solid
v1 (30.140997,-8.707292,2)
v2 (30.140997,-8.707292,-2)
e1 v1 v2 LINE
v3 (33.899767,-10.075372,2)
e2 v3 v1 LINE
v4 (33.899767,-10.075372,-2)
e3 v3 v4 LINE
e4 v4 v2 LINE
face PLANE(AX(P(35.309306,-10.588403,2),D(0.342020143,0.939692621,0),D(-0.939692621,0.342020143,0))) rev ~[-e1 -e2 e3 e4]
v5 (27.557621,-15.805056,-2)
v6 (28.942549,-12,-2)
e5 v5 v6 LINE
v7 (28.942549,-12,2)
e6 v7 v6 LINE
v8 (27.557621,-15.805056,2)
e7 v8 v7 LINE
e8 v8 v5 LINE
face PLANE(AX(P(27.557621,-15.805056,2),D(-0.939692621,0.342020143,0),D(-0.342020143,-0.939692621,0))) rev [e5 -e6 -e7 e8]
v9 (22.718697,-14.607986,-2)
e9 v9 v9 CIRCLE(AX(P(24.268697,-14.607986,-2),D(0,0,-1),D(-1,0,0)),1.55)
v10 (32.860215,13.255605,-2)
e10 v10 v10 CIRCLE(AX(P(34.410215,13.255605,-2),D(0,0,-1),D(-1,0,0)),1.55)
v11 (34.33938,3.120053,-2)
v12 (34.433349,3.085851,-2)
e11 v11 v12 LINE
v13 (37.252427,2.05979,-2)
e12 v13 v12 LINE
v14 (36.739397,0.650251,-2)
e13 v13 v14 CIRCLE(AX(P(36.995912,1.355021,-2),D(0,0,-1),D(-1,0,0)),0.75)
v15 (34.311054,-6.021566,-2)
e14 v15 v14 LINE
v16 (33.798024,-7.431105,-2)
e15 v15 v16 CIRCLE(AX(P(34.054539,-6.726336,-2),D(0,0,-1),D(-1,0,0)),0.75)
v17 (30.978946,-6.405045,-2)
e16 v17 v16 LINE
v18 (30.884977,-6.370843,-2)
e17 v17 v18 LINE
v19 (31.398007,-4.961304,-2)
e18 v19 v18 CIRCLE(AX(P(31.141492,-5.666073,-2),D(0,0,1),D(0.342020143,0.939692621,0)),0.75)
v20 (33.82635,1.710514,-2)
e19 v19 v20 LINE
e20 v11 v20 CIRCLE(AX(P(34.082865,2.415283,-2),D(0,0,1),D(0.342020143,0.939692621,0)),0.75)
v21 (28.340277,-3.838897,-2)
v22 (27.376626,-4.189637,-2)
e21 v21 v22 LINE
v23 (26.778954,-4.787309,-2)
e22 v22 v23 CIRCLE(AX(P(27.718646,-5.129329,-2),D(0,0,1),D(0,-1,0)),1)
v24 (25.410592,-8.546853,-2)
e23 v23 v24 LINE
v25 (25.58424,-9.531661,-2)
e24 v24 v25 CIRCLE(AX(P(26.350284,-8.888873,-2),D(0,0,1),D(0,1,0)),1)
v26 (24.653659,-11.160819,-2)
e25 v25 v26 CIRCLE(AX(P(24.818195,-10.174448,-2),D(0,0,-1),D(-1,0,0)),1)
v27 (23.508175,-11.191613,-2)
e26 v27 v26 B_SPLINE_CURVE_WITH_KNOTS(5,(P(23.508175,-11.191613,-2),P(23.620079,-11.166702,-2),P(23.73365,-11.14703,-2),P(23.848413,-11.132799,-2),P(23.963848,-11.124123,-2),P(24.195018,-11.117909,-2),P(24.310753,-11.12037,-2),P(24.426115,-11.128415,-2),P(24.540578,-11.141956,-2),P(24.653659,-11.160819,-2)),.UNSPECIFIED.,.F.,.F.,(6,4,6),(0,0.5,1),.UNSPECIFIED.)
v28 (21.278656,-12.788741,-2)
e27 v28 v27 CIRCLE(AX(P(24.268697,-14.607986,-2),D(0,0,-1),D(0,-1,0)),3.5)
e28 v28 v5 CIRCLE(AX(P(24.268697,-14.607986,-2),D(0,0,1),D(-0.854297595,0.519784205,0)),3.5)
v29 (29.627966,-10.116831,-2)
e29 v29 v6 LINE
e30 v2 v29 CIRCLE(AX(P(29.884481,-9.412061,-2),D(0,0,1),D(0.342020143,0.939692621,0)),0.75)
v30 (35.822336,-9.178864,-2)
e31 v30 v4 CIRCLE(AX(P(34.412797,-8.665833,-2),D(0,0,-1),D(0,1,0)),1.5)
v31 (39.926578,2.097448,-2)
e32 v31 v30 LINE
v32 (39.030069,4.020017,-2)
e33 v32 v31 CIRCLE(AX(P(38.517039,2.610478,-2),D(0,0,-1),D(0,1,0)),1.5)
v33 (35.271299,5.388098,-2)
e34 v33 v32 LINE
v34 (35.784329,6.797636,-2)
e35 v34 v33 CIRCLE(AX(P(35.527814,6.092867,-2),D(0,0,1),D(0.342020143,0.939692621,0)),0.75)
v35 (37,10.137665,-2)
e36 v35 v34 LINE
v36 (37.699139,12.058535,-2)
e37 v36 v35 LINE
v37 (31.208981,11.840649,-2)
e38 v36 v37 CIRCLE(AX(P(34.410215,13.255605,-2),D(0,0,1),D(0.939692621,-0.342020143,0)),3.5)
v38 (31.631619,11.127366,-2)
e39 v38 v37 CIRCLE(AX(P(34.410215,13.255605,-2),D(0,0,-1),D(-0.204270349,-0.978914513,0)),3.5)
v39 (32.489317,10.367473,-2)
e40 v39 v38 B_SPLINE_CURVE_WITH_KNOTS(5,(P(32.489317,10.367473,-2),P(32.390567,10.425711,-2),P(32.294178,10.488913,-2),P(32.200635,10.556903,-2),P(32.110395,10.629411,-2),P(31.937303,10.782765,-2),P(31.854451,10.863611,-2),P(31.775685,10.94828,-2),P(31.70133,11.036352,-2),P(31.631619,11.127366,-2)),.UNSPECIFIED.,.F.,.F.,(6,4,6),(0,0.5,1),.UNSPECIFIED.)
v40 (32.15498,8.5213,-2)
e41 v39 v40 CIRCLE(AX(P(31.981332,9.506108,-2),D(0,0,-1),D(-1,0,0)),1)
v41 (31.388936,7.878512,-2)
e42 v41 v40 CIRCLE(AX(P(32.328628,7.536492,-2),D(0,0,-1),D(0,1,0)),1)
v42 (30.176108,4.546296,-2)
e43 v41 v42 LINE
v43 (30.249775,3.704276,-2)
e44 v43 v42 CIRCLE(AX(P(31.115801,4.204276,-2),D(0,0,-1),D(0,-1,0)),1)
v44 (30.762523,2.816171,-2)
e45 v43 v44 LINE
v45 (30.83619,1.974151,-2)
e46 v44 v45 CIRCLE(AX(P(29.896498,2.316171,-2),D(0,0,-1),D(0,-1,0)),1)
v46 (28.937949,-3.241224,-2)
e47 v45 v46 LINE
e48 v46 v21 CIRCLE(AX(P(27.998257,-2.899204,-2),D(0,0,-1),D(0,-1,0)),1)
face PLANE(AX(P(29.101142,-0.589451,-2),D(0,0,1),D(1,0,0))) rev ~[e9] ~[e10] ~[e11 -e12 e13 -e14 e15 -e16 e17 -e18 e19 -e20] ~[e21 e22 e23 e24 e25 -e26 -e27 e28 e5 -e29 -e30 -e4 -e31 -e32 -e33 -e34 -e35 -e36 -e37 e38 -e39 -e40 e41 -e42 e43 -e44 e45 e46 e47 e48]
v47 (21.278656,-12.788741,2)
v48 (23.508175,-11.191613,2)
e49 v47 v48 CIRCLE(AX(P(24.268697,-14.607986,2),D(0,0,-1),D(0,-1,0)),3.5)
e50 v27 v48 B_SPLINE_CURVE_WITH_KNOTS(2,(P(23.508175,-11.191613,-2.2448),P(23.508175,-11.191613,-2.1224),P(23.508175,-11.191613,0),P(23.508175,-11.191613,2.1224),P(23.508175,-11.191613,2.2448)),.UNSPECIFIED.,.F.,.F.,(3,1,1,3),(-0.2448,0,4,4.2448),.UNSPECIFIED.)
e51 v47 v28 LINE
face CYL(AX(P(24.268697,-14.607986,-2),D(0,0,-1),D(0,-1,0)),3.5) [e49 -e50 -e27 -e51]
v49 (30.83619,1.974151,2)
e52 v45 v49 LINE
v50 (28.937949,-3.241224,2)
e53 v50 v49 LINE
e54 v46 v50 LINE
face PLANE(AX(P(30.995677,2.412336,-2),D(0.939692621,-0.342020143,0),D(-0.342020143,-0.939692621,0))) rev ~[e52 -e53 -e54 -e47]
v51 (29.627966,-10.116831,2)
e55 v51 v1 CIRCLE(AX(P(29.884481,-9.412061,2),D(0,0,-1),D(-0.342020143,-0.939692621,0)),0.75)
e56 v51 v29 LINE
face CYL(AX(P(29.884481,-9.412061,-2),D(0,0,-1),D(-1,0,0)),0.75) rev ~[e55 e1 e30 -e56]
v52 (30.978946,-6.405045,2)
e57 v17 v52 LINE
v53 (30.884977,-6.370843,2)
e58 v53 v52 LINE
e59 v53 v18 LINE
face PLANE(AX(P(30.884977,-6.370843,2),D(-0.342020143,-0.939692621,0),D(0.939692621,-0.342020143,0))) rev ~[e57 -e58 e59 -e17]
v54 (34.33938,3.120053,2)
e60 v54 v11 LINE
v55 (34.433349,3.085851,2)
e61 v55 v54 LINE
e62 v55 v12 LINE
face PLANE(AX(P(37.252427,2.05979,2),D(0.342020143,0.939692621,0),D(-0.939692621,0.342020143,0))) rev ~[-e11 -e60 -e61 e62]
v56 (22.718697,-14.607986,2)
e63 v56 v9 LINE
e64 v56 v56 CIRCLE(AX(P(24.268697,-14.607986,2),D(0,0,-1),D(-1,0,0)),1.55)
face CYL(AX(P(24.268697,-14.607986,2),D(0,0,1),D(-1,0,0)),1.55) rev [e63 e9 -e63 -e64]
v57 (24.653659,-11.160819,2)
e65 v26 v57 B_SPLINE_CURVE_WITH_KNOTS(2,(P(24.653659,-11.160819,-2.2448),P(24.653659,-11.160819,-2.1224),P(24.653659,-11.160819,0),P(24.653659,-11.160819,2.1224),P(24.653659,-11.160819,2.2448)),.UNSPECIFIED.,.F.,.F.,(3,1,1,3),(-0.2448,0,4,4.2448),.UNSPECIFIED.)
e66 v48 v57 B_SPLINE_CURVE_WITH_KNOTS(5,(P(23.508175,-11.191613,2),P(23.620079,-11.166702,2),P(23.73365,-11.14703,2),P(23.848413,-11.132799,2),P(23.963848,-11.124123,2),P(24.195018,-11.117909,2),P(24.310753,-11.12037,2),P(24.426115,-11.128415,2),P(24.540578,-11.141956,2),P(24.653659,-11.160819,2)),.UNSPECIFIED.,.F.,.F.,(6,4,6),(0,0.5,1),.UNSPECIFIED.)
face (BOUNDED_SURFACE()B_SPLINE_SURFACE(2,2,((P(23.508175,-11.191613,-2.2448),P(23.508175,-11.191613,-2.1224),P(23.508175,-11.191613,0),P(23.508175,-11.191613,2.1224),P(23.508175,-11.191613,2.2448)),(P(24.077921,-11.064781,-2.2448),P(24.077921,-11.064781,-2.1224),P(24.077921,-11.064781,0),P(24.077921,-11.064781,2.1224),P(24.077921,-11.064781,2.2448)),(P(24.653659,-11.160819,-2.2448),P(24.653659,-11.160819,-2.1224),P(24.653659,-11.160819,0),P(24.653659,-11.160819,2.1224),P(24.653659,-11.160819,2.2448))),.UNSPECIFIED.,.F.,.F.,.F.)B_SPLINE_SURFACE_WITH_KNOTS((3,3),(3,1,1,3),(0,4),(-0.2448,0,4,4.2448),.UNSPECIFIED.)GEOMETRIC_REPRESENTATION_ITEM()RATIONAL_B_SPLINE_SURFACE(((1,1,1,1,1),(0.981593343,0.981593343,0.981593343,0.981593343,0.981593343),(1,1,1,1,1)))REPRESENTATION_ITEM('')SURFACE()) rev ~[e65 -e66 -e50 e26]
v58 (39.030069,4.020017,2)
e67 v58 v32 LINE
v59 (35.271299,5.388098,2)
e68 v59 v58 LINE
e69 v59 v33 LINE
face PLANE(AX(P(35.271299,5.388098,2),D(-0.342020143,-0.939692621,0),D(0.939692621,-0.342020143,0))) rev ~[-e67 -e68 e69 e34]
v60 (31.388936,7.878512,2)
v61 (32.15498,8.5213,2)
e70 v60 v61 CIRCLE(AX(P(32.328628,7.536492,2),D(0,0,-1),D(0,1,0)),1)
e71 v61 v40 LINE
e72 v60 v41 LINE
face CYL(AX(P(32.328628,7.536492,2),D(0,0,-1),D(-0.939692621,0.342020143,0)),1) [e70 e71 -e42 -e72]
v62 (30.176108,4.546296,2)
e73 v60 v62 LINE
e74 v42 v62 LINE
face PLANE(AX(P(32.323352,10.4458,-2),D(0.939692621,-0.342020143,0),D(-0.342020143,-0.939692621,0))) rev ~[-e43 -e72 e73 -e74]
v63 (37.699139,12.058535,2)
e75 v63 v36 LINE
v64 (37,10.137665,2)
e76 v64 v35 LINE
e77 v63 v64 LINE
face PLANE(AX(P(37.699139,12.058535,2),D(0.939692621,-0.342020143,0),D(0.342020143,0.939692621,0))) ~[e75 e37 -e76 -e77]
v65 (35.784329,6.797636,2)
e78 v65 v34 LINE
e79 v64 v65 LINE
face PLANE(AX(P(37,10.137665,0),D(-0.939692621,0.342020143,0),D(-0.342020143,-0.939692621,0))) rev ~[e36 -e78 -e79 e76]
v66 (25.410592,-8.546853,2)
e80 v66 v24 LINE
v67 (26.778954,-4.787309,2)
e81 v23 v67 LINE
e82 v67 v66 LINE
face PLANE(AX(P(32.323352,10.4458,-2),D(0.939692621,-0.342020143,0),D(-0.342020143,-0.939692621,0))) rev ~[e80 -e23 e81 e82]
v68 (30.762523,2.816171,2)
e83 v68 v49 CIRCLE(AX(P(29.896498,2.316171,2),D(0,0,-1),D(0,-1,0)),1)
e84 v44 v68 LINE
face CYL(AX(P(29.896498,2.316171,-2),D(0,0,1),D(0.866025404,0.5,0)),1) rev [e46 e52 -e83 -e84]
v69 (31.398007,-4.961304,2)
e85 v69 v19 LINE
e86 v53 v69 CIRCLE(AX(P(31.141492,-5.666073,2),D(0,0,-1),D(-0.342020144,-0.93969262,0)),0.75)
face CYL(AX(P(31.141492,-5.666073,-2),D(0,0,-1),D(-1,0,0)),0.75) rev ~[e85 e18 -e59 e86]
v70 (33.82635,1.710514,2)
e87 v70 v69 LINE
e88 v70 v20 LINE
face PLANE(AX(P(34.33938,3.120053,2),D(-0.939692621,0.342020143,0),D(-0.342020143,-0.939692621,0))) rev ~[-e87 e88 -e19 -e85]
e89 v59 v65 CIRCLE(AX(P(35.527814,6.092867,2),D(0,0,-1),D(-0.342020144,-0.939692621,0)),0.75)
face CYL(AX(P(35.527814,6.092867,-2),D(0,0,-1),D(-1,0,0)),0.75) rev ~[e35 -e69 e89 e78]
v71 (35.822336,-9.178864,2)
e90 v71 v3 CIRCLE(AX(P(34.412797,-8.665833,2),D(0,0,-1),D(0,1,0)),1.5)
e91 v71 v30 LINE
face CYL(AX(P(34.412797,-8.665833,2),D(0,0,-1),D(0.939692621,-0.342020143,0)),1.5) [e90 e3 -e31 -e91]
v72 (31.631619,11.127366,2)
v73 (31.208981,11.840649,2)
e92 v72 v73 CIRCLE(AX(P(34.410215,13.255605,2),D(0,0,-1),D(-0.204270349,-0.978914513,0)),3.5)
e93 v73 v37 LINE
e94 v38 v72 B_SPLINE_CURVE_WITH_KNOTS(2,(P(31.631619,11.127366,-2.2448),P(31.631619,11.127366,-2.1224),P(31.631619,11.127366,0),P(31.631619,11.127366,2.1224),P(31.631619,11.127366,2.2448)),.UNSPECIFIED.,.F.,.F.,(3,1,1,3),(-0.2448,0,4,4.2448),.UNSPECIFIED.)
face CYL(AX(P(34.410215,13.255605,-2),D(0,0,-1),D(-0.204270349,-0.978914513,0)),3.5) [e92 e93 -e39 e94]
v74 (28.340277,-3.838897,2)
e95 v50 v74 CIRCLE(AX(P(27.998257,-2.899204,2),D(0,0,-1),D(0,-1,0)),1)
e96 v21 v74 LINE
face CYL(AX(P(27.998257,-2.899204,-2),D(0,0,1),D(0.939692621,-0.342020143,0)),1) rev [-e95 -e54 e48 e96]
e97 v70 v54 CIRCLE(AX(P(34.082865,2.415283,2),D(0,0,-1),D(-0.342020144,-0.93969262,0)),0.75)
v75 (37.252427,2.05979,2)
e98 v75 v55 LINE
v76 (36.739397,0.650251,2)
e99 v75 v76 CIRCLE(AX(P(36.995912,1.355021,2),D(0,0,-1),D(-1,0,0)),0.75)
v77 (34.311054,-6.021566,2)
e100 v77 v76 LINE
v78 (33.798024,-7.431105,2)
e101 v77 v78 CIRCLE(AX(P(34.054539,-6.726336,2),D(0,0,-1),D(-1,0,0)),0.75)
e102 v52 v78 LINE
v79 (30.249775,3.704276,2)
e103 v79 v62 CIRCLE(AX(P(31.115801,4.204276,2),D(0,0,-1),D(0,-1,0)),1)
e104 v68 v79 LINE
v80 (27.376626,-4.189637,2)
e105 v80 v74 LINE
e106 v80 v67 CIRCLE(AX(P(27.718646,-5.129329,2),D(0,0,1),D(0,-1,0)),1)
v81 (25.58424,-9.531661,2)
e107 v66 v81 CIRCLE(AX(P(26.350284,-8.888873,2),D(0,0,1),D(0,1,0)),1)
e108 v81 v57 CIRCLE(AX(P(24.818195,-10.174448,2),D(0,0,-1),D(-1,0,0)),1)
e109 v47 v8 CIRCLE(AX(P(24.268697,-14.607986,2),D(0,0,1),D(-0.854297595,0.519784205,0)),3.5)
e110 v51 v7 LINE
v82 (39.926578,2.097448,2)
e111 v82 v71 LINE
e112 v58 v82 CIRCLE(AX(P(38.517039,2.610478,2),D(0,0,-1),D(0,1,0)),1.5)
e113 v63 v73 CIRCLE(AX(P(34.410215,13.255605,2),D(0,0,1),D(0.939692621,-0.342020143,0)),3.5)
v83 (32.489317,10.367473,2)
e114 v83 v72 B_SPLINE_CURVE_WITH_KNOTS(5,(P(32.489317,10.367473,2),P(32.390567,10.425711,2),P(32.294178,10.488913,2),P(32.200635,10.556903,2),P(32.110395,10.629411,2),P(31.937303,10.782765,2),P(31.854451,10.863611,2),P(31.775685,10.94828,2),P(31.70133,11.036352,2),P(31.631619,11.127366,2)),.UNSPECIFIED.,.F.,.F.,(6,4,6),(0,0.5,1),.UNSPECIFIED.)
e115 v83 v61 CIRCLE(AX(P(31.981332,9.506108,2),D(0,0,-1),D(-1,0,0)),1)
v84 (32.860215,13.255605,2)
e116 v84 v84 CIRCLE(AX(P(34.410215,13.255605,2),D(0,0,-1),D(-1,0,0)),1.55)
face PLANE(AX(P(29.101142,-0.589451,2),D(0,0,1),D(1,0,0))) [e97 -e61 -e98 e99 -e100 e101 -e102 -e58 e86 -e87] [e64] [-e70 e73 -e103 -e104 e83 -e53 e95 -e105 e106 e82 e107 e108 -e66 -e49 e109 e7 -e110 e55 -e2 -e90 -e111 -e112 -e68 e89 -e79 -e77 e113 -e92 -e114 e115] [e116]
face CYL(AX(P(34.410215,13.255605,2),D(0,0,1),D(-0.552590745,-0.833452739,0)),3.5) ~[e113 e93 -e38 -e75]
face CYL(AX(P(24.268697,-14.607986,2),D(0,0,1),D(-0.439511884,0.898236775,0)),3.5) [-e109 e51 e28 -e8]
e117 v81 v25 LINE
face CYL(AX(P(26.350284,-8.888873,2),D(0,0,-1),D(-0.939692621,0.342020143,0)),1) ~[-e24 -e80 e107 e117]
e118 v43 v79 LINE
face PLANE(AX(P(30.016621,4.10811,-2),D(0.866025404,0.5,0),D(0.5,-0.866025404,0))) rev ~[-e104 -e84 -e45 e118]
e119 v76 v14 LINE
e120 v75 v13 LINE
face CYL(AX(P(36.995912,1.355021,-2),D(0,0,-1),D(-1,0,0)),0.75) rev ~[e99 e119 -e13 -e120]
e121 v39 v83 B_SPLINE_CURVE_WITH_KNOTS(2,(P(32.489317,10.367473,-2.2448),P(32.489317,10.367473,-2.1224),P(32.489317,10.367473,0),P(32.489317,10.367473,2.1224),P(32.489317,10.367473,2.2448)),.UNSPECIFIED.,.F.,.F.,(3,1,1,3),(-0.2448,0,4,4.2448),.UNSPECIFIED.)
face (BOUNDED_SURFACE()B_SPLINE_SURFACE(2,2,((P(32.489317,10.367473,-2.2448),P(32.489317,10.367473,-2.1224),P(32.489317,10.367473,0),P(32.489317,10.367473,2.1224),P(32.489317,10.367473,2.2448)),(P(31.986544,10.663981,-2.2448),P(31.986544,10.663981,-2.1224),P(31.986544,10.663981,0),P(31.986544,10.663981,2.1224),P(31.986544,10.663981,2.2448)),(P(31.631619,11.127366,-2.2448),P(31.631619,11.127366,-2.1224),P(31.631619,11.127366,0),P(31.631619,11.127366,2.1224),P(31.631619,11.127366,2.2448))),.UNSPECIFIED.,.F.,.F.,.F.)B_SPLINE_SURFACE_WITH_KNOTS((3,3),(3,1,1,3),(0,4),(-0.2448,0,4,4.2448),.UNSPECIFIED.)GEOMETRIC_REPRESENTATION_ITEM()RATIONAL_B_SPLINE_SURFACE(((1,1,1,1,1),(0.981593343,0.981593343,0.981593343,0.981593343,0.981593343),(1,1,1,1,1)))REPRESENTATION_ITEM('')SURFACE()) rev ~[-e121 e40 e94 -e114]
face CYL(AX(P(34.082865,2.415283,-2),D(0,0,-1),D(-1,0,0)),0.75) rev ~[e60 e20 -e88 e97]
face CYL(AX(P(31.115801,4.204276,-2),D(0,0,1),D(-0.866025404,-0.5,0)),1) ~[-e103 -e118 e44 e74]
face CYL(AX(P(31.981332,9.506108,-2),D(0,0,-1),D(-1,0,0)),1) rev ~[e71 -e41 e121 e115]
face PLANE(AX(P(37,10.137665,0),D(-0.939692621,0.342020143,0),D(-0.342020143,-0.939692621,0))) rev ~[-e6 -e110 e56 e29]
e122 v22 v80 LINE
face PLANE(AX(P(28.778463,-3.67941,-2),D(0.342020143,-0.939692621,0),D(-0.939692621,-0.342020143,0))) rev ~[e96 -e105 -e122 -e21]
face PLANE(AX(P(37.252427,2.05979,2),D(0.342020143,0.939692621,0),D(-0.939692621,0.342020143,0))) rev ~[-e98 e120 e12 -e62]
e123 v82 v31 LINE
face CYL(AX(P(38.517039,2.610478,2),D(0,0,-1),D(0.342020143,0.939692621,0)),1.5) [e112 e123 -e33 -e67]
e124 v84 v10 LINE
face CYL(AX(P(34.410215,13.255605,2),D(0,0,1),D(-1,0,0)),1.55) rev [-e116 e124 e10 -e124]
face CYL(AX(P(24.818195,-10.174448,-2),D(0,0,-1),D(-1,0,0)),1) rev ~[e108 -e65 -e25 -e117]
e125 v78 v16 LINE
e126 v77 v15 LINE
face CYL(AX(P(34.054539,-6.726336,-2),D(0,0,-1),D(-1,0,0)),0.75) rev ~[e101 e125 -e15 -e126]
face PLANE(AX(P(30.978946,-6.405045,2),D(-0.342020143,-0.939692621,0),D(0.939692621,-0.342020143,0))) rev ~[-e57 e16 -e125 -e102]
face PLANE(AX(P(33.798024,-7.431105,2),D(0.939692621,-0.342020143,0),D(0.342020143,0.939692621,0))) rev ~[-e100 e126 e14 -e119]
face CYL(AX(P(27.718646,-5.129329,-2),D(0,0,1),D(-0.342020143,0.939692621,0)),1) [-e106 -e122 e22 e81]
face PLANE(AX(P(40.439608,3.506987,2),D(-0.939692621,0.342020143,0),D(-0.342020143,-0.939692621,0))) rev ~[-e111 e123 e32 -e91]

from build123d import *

# Parameters (mm, degrees)
SKETCH_1_R             = 7
SKETCH_1_R_2           = 1.55
EXTRUDE_1_DEPTH        = 2
FILLET_1_R             = 1
CUT_EXTRUDE_START      = -5
CUT_EXTRUDE_1_DEPTH    = 6
FILLET_2_R             = 1
FILLET_2_OF_MIRROR_1_R = 1
SKETCH_3_R             = 1.55
EXTRUDE_2_DEPTH        = 4
FILLET_3_R             = 1
CUT_EXTRUDE_2_DEPTH    = 5
FILLET_4_R             = 1
CUT_EXTRUDE_3_DEPTH    = 5
EXTRUDE_3_DEPTH        = 4
SKETCH_8_R             = 0.75
CUT_EXTRUDE_4_DEPTH    = 5
FILLET_5_R             = 1.5
CUT_EXTRUDE_5_DEPTH    = 5
EXTRUDE_4_DEPTH        = 4
CUT_EXTRUDE_6_DEPTH    = 5
SKETCH_12_R            = 1
CUT_EXTRUDE_7_DEPTH    = 5
FILLET_6_R             = 3
FILLET_7_R             = 1
FILLET_8_R             = 1


with BuildPart() as part:
    # 草图1 → 凸台-拉伸1 (new body, symmetric)
    with BuildSketch(Plane.XY):
        with BuildLine():
            Line((-17.5, 11), (-10, 11))
            Line((-10, 11), (-8.321800738, 9))
            Line((-8.321800738, 9), (8.321800738, 9))
            Line((8.321800738, 9), (10, 11))
            Line((10, 11), (17.5, 11))
            ThreePointArc((17.5, 11), (17.577641076, 10.999138732), (17.655243941, 10.99655535))
            Line((17.655243941, 10.99655535), (37, 10.137665421))
            Line((37, 10.137665421), (28.942548731, -12))
            Line((28.942548731, -12), (17.199216279, -10.987051642))
            ThreePointArc((17.199216279, -10.987051642), (15.184578245, -10.124656567), (14.077678472, -8.233290774))
            Line((14.077678472, -8.233290774), (2.304628146, -10.75586766))
            ThreePointArc((2.304628146, -10.75586766), (0, -11), (-2.304628146, -10.75586766))
            Line((-2.304628146, -10.75586766), (-14.077678472, -8.233290774))
            ThreePointArc((-14.077678472, -8.233290774), (-15.184578245, -10.124656567), (-17.199216279, -10.987051642))
            Line((-17.199216279, -10.987051642), (-28.942548731, -12))
            Line((-28.942548731, -12), (-37, 10.137665421))
            Line((-37, 10.137665421), (-17.655243941, 10.99655535))
            ThreePointArc((-17.655243941, 10.99655535), (-17.577641076, 10.999138732), (-17.5, 11))
        make_face()
        Circle(SKETCH_1_R, mode=Mode.SUBTRACT)
        with Locations((17.5, 7.5)):
            Circle(SKETCH_1_R_2, mode=Mode.SUBTRACT)
        with Locations((17.5, -7.5)):
            Circle(SKETCH_1_R_2, mode=Mode.SUBTRACT)
        with Locations((-17.5, -7.5)):
            Circle(SKETCH_1_R_2, mode=Mode.SUBTRACT)
        with Locations((-17.5, 7.5)):
            Circle(SKETCH_1_R_2, mode=Mode.SUBTRACT)
    extrude(amount=EXTRUDE_1_DEPTH, both=True)

    # 圆角1
    fillet_1_edges = [part.edges().sort_by_distance(p)[0] for p in [
        (14.077678472, -8.233290774, 0),
        (-14.077678472, -8.233290774, 0),
    ]]
    fillet(fillet_1_edges, radius=FILLET_1_R)

    # 草图2 → 切除-拉伸1 (cut)
    with BuildSketch(Plane.XY.offset(2).offset(CUT_EXTRUDE_START)):
        Polygon((-20.5, 7.867295251), (-32.782632739, 7.321957304), (-27.222903771, -7.953272497), align=None)
        with BuildLine():
            Line((-19.251811465, 4.412338006), (-24.573190843, -8.11011447))
            Line((-24.573190843, -8.11011447), (-21.036866665, -7.805080632))
            ThreePointArc((-21.036866665, -7.805080632), (-20.623106229, -5.812188553), (-19.182687898, -4.374130291))
            Line((-19.182687898, -4.374130291), (-15.331076504, 4.689613751))
            ThreePointArc((-15.331076504, 4.689613751), (-17.24956823, 3.958844267), (-19.251811465, 4.412338006))
        make_face()
    cut_extrude_1 = extrude(amount=CUT_EXTRUDE_1_DEPTH, mode=Mode.SUBTRACT)

    # 圆角2
    fillet_2_edges = [part.edges().sort_by_distance(p)[0] for p in [
        (-20.5, 7.867295251, 0),
        (-27.222903771, -7.953272497, 0),
        (-32.782632739, 7.321957304, 0),
        (-19.251811465, 4.412338006, 0),
        (-15.331076504, 4.689613751, 0),
        (-19.182687898, -4.374130291, 0),
        (-21.036866665, -7.805080632, 0),
        (-24.573190843, -8.11011447, 0),
    ]]
    fillet(fillet_2_edges, radius=FILLET_2_R)

    # 镜向1: 切除-拉伸1 across plane
    add(cut_extrude_1.mirror(Plane(origin=(0, 0, 0), x_dir=(0, 0, 1), z_dir=(1, 0, 0))), mode=Mode.SUBTRACT)

    # 圆角2 of 镜向1
    fillet_2_of_mirror_1_edges = [part.edges().sort_by_distance(p)[0] for p in [
        (20.5, 7.867295251, 0),
        (27.222903771, -7.953272497, 0),
        (32.782632739, 7.321957304, 0),
        (19.251811465, 4.412338006, 0),
        (15.331076504, 4.689613751, 0),
        (19.182687898, -4.374130291, 0),
        (21.036866665, -7.805080632, 0),
        (24.573190843, -8.11011447, 0),
    ]]
    fillet(fillet_2_of_mirror_1_edges, radius=FILLET_2_OF_MIRROR_1_R)

    # 草图3 → 凸台-拉伸2 (add)
    with BuildSketch(Plane.XY.offset(2)):
        with BuildLine():
            Line((-37.69913918, 12.058534531), (-37, 10.137665421))
            Line((-37, 10.137665421), (-32.4761474, 10.338520445))
            ThreePointArc((-32.4761474, 10.338520445), (-33.315445081, 16.579981486), (-37.69913918, 12.058534531))
        make_face()
        with Locations((-34.410215007, 13.255605032)):
            Circle(SKETCH_3_R, mode=Mode.SUBTRACT)
        with BuildLine():
            Line((-27.557621455, -15.805056417), (-28.942548731, -12))
            Line((-28.942548731, -12), (-22.730405687, -11.464157204))
            ThreePointArc((-22.730405687, -11.464157204), (-21.928391725, -17.210478932), (-27.557621455, -15.805056417))
        make_face()
        with Locations((-24.268697282, -14.607985915)):
            Circle(SKETCH_3_R, mode=Mode.SUBTRACT)
    extrude_2 = extrude(amount=-EXTRUDE_2_DEPTH)

    # 镜向2: 凸台-拉伸2 across plane
    add(extrude_2.mirror(Plane(origin=(0, 0, 0), x_dir=(0, 0, 1), z_dir=(1, 0, 0))))

    # 圆角3
    fillet_3_edges = [part.edges().sort_by_distance(p)[0] for p in [
        (-22.730405687, -11.464157204, 0),
        (-32.4761474, 10.338520445, 0),
        (22.730405687, -11.464157204, 0),
        (32.4761474, 10.338520445, 0),
    ]]
    fillet(fillet_3_edges, radius=FILLET_3_R)

    # 草图4 → 切除-拉伸2 (cut, through all)
    with BuildSketch(Plane.XY.offset(2)):
        with BuildLine():
            Line((-16.384851826, -4.1824038), (-12.057869255, 6))
            Line((-12.057869255, 6), (-8, 6))
            ThreePointArc((-8, 6), (-9.993390733, -0.363512948), (-7.542930102, -6.565379309))
            Line((-7.542930102, -6.565379309), (-15.108699944, -4.944284045))
            ThreePointArc((-15.108699944, -4.944284045), (-15.705867849, -4.49482283), (-16.384851826, -4.1824038))
        make_face()
    cut_extrude_2 = extrude(amount=-CUT_EXTRUDE_2_DEPTH, mode=Mode.SUBTRACT)

    # 镜向3: 切除-拉伸2 across plane
    add(cut_extrude_2.mirror(Plane(origin=(0, 0, 0), x_dir=(0, 0, 1), z_dir=(1, 0, 0))), mode=Mode.SUBTRACT)

    # 圆角4
    fillet_4_edges = [part.edges().sort_by_distance(p)[0] for p in [
        (-12.057869255, 6, 0),
        (-8, 6, 0),
        (-7.542930102, -6.565379309, 0),
        (-15.108699944, -4.944284045, 0),
        (-16.384851826, -4.1824038, 0),
        (8, 6, 0),
        (12.057869255, 6, 0),
        (16.384851826, -4.1824038, 0),
        (15.108699944, -4.944284045, 0),
        (7.542930102, -6.565379309, 0),
    ]]
    fillet(fillet_4_edges, radius=FILLET_4_R)

    # 草图5 → 切除-拉伸3 (cut, through all)
    with BuildSketch(Plane.XY.offset(2)):
        Polygon((30.884976598, -6.370842854), (33.798023723, -7.431105298), (37.25242717, 2.059790172), (34.339380046, 3.120052616), align=None)
    cut_extrude_3 = extrude(amount=-CUT_EXTRUDE_3_DEPTH, mode=Mode.SUBTRACT)

    # 草图7 → 凸台-拉伸3 (add)
    with BuildSketch(Plane.XY.offset(2)):
        Polygon((35.271298659, 5.388097522), (40.439608074, 3.506986734), (35.309305924, -10.588402578), (30.140996509, -8.707291789), (30.97894586, -6.405044868), (33.798023723, -7.431105298), (37.25242717, 2.059790172), (34.433349308, 3.085850601), align=None)
    extrude_3 = extrude(amount=-EXTRUDE_3_DEPTH)

    # 镜向4: 切除-拉伸3, 凸台-拉伸3 across plane
    add(cut_extrude_3.mirror(Plane(origin=(0, 0, 0), x_dir=(0, 0, 1), z_dir=(1, 0, 0))), mode=Mode.SUBTRACT)
    add(extrude_3.mirror(Plane(origin=(0, 0, 0), x_dir=(0, 0, 1), z_dir=(1, 0, 0))))

    # 草图8 → 切除-拉伸4 (cut, through all)
    with BuildSketch(Plane(origin=(0, 0, -2), x_dir=(-1, 0, 0), z_dir=(0, 0, -1))):
        with Locations((-36.995912063, 1.355020706)):
            Circle(SKETCH_8_R)
        with Locations((-34.082864939, 2.41528315)):
            Circle(SKETCH_8_R)
        with Locations((-34.05453883, -6.726335833)):
            Circle(SKETCH_8_R)
        with Locations((-31.141491706, -5.666073389)):
            Circle(SKETCH_8_R)
        with Locations((-35.527813767, 6.092866988)):
            Circle(SKETCH_8_R)
        with Locations((-29.884481402, -9.412061255)):
            Circle(SKETCH_8_R)
    cut_extrude_4 = extrude(amount=-CUT_EXTRUDE_4_DEPTH, mode=Mode.SUBTRACT)

    # 镜向5: 切除-拉伸4 across plane
    add(cut_extrude_4.mirror(Plane(origin=(0, 0, 0), x_dir=(0, 0, 1), z_dir=(1, 0, 0))), mode=Mode.SUBTRACT)

    # 圆角5
    fillet_5_edges = [part.edges().sort_by_distance(p)[0] for p in [
        (40.439608074, 3.506986734, 0),
        (35.309305924, -10.588402578, 0),
        (-40.439608074, 3.506986734, 0),
        (-35.309305924, -10.588402578, 0),
    ]]
    fillet(fillet_5_edges, radius=FILLET_5_R)

    # 草图9 → 切除-拉伸5 (cut, through all)
    with BuildSketch(Plane(origin=(0, 0, -2), x_dir=(-1, 0, 0), z_dir=(0, 0, -1))):
        with BuildLine():
            Line((-32.316536273, 6.041367788), (-33.695268787, 9.829404235))
            ThreePointArc((-33.695268787, 9.829404235), (-30.928713694, 13.614977548), (-34.410215007, 16.755605032))
            Line((-34.410215007, 16.755605032), (45.589784993, 16.755605032))
            Line((45.589784993, 16.755605032), (45.589784993, -18.107985915))
            Line((45.589784993, -18.107985915), (-24.268697282, -18.107985915))
            ThreePointArc((-24.268697282, -18.107985915), (-20.874243549, -13.754942039), (-25.923336124, -11.523805262))
            Line((-25.923336124, -11.523805262), (-28.090663396, -5.56912252))
            Line((-28.090663396, -5.56912252), (-32.316536273, 6.041367788))
        make_face()
    extrude(amount=-CUT_EXTRUDE_5_DEPTH, mode=Mode.SUBTRACT)

    # 草图10 → 凸台-拉伸4 (add)
    with BuildSketch(Plane(origin=(0, 0, -2), x_dir=(-1, 0, 0), z_dir=(0, 0, -1))):
        with BuildLine():
            Line((-32.323351951, 10.445800309), (-24.476175097, -11.114140905))
            ThreePointArc((-24.476175097, -11.114140905), (-25.222020853, -11.240319933), (-25.923336124, -11.523805262))
            Line((-25.923336124, -11.523805262), (-33.695268787, 9.829404235))
            ThreePointArc((-33.695268787, 9.829404235), (-32.975809264, 10.063038641), (-32.323351951, 10.445800309))
        make_face()
    extrude(amount=-EXTRUDE_4_DEPTH)

    # 草图11 → 切除-拉伸6 (cut, through all)
    with BuildSketch(Plane(origin=(0, 0, -2), x_dir=(-1, 0, 0), z_dir=(0, 0, -1))):
        Polygon((-30.016621436, 4.108110305), (-30.995676903, 2.412336493), (-28.778462541, -3.6794099), (-26.938440146, -4.349123282), align=None)
    extrude(amount=-CUT_EXTRUDE_6_DEPTH, mode=Mode.SUBTRACT)

    # 草图12 → 切除-拉伸7 (cut, through all)
    with BuildSketch(Plane(origin=(0, 0, -2), x_dir=(-1, 0, 0), z_dir=(0, 0, -1))):
        with Locations((-31.981331808, 9.506107688)):
            Circle(SKETCH_12_R)
        with Locations((-24.81819524, -10.174448284)):
            Circle(SKETCH_12_R)
    extrude(amount=-CUT_EXTRUDE_7_DEPTH, mode=Mode.SUBTRACT)

    # 圆角6
    fillet_6_edges = [part.edges().sort_by_distance(p)[0] for p in [
        (24.476175097, -11.114140905, 0),
        (32.323351951, 10.445800309, 0),
    ]]
    fillet(fillet_6_edges, radius=FILLET_6_R)

    # 圆角7
    fillet_7_edges = [part.edges().sort_by_distance(p)[0] for p in [
        (28.778462541, -3.6794099, 0),
        (30.995676903, 2.412336493, 0),
    ]]
    fillet(fillet_7_edges, radius=FILLET_7_R)

    # 圆角8
    fillet_8_edges = [part.edges().sort_by_distance(p)[0] for p in [
        (30.016621436, 4.108110305, 0),
        (26.938440146, -4.349123282, 0),
        (31.639311664, 8.566415067, 0),
        (25.160215383, -9.234755664, 0),
    ]]
    fillet(fillet_8_edges, radius=FILLET_8_R)


solid = part.part
